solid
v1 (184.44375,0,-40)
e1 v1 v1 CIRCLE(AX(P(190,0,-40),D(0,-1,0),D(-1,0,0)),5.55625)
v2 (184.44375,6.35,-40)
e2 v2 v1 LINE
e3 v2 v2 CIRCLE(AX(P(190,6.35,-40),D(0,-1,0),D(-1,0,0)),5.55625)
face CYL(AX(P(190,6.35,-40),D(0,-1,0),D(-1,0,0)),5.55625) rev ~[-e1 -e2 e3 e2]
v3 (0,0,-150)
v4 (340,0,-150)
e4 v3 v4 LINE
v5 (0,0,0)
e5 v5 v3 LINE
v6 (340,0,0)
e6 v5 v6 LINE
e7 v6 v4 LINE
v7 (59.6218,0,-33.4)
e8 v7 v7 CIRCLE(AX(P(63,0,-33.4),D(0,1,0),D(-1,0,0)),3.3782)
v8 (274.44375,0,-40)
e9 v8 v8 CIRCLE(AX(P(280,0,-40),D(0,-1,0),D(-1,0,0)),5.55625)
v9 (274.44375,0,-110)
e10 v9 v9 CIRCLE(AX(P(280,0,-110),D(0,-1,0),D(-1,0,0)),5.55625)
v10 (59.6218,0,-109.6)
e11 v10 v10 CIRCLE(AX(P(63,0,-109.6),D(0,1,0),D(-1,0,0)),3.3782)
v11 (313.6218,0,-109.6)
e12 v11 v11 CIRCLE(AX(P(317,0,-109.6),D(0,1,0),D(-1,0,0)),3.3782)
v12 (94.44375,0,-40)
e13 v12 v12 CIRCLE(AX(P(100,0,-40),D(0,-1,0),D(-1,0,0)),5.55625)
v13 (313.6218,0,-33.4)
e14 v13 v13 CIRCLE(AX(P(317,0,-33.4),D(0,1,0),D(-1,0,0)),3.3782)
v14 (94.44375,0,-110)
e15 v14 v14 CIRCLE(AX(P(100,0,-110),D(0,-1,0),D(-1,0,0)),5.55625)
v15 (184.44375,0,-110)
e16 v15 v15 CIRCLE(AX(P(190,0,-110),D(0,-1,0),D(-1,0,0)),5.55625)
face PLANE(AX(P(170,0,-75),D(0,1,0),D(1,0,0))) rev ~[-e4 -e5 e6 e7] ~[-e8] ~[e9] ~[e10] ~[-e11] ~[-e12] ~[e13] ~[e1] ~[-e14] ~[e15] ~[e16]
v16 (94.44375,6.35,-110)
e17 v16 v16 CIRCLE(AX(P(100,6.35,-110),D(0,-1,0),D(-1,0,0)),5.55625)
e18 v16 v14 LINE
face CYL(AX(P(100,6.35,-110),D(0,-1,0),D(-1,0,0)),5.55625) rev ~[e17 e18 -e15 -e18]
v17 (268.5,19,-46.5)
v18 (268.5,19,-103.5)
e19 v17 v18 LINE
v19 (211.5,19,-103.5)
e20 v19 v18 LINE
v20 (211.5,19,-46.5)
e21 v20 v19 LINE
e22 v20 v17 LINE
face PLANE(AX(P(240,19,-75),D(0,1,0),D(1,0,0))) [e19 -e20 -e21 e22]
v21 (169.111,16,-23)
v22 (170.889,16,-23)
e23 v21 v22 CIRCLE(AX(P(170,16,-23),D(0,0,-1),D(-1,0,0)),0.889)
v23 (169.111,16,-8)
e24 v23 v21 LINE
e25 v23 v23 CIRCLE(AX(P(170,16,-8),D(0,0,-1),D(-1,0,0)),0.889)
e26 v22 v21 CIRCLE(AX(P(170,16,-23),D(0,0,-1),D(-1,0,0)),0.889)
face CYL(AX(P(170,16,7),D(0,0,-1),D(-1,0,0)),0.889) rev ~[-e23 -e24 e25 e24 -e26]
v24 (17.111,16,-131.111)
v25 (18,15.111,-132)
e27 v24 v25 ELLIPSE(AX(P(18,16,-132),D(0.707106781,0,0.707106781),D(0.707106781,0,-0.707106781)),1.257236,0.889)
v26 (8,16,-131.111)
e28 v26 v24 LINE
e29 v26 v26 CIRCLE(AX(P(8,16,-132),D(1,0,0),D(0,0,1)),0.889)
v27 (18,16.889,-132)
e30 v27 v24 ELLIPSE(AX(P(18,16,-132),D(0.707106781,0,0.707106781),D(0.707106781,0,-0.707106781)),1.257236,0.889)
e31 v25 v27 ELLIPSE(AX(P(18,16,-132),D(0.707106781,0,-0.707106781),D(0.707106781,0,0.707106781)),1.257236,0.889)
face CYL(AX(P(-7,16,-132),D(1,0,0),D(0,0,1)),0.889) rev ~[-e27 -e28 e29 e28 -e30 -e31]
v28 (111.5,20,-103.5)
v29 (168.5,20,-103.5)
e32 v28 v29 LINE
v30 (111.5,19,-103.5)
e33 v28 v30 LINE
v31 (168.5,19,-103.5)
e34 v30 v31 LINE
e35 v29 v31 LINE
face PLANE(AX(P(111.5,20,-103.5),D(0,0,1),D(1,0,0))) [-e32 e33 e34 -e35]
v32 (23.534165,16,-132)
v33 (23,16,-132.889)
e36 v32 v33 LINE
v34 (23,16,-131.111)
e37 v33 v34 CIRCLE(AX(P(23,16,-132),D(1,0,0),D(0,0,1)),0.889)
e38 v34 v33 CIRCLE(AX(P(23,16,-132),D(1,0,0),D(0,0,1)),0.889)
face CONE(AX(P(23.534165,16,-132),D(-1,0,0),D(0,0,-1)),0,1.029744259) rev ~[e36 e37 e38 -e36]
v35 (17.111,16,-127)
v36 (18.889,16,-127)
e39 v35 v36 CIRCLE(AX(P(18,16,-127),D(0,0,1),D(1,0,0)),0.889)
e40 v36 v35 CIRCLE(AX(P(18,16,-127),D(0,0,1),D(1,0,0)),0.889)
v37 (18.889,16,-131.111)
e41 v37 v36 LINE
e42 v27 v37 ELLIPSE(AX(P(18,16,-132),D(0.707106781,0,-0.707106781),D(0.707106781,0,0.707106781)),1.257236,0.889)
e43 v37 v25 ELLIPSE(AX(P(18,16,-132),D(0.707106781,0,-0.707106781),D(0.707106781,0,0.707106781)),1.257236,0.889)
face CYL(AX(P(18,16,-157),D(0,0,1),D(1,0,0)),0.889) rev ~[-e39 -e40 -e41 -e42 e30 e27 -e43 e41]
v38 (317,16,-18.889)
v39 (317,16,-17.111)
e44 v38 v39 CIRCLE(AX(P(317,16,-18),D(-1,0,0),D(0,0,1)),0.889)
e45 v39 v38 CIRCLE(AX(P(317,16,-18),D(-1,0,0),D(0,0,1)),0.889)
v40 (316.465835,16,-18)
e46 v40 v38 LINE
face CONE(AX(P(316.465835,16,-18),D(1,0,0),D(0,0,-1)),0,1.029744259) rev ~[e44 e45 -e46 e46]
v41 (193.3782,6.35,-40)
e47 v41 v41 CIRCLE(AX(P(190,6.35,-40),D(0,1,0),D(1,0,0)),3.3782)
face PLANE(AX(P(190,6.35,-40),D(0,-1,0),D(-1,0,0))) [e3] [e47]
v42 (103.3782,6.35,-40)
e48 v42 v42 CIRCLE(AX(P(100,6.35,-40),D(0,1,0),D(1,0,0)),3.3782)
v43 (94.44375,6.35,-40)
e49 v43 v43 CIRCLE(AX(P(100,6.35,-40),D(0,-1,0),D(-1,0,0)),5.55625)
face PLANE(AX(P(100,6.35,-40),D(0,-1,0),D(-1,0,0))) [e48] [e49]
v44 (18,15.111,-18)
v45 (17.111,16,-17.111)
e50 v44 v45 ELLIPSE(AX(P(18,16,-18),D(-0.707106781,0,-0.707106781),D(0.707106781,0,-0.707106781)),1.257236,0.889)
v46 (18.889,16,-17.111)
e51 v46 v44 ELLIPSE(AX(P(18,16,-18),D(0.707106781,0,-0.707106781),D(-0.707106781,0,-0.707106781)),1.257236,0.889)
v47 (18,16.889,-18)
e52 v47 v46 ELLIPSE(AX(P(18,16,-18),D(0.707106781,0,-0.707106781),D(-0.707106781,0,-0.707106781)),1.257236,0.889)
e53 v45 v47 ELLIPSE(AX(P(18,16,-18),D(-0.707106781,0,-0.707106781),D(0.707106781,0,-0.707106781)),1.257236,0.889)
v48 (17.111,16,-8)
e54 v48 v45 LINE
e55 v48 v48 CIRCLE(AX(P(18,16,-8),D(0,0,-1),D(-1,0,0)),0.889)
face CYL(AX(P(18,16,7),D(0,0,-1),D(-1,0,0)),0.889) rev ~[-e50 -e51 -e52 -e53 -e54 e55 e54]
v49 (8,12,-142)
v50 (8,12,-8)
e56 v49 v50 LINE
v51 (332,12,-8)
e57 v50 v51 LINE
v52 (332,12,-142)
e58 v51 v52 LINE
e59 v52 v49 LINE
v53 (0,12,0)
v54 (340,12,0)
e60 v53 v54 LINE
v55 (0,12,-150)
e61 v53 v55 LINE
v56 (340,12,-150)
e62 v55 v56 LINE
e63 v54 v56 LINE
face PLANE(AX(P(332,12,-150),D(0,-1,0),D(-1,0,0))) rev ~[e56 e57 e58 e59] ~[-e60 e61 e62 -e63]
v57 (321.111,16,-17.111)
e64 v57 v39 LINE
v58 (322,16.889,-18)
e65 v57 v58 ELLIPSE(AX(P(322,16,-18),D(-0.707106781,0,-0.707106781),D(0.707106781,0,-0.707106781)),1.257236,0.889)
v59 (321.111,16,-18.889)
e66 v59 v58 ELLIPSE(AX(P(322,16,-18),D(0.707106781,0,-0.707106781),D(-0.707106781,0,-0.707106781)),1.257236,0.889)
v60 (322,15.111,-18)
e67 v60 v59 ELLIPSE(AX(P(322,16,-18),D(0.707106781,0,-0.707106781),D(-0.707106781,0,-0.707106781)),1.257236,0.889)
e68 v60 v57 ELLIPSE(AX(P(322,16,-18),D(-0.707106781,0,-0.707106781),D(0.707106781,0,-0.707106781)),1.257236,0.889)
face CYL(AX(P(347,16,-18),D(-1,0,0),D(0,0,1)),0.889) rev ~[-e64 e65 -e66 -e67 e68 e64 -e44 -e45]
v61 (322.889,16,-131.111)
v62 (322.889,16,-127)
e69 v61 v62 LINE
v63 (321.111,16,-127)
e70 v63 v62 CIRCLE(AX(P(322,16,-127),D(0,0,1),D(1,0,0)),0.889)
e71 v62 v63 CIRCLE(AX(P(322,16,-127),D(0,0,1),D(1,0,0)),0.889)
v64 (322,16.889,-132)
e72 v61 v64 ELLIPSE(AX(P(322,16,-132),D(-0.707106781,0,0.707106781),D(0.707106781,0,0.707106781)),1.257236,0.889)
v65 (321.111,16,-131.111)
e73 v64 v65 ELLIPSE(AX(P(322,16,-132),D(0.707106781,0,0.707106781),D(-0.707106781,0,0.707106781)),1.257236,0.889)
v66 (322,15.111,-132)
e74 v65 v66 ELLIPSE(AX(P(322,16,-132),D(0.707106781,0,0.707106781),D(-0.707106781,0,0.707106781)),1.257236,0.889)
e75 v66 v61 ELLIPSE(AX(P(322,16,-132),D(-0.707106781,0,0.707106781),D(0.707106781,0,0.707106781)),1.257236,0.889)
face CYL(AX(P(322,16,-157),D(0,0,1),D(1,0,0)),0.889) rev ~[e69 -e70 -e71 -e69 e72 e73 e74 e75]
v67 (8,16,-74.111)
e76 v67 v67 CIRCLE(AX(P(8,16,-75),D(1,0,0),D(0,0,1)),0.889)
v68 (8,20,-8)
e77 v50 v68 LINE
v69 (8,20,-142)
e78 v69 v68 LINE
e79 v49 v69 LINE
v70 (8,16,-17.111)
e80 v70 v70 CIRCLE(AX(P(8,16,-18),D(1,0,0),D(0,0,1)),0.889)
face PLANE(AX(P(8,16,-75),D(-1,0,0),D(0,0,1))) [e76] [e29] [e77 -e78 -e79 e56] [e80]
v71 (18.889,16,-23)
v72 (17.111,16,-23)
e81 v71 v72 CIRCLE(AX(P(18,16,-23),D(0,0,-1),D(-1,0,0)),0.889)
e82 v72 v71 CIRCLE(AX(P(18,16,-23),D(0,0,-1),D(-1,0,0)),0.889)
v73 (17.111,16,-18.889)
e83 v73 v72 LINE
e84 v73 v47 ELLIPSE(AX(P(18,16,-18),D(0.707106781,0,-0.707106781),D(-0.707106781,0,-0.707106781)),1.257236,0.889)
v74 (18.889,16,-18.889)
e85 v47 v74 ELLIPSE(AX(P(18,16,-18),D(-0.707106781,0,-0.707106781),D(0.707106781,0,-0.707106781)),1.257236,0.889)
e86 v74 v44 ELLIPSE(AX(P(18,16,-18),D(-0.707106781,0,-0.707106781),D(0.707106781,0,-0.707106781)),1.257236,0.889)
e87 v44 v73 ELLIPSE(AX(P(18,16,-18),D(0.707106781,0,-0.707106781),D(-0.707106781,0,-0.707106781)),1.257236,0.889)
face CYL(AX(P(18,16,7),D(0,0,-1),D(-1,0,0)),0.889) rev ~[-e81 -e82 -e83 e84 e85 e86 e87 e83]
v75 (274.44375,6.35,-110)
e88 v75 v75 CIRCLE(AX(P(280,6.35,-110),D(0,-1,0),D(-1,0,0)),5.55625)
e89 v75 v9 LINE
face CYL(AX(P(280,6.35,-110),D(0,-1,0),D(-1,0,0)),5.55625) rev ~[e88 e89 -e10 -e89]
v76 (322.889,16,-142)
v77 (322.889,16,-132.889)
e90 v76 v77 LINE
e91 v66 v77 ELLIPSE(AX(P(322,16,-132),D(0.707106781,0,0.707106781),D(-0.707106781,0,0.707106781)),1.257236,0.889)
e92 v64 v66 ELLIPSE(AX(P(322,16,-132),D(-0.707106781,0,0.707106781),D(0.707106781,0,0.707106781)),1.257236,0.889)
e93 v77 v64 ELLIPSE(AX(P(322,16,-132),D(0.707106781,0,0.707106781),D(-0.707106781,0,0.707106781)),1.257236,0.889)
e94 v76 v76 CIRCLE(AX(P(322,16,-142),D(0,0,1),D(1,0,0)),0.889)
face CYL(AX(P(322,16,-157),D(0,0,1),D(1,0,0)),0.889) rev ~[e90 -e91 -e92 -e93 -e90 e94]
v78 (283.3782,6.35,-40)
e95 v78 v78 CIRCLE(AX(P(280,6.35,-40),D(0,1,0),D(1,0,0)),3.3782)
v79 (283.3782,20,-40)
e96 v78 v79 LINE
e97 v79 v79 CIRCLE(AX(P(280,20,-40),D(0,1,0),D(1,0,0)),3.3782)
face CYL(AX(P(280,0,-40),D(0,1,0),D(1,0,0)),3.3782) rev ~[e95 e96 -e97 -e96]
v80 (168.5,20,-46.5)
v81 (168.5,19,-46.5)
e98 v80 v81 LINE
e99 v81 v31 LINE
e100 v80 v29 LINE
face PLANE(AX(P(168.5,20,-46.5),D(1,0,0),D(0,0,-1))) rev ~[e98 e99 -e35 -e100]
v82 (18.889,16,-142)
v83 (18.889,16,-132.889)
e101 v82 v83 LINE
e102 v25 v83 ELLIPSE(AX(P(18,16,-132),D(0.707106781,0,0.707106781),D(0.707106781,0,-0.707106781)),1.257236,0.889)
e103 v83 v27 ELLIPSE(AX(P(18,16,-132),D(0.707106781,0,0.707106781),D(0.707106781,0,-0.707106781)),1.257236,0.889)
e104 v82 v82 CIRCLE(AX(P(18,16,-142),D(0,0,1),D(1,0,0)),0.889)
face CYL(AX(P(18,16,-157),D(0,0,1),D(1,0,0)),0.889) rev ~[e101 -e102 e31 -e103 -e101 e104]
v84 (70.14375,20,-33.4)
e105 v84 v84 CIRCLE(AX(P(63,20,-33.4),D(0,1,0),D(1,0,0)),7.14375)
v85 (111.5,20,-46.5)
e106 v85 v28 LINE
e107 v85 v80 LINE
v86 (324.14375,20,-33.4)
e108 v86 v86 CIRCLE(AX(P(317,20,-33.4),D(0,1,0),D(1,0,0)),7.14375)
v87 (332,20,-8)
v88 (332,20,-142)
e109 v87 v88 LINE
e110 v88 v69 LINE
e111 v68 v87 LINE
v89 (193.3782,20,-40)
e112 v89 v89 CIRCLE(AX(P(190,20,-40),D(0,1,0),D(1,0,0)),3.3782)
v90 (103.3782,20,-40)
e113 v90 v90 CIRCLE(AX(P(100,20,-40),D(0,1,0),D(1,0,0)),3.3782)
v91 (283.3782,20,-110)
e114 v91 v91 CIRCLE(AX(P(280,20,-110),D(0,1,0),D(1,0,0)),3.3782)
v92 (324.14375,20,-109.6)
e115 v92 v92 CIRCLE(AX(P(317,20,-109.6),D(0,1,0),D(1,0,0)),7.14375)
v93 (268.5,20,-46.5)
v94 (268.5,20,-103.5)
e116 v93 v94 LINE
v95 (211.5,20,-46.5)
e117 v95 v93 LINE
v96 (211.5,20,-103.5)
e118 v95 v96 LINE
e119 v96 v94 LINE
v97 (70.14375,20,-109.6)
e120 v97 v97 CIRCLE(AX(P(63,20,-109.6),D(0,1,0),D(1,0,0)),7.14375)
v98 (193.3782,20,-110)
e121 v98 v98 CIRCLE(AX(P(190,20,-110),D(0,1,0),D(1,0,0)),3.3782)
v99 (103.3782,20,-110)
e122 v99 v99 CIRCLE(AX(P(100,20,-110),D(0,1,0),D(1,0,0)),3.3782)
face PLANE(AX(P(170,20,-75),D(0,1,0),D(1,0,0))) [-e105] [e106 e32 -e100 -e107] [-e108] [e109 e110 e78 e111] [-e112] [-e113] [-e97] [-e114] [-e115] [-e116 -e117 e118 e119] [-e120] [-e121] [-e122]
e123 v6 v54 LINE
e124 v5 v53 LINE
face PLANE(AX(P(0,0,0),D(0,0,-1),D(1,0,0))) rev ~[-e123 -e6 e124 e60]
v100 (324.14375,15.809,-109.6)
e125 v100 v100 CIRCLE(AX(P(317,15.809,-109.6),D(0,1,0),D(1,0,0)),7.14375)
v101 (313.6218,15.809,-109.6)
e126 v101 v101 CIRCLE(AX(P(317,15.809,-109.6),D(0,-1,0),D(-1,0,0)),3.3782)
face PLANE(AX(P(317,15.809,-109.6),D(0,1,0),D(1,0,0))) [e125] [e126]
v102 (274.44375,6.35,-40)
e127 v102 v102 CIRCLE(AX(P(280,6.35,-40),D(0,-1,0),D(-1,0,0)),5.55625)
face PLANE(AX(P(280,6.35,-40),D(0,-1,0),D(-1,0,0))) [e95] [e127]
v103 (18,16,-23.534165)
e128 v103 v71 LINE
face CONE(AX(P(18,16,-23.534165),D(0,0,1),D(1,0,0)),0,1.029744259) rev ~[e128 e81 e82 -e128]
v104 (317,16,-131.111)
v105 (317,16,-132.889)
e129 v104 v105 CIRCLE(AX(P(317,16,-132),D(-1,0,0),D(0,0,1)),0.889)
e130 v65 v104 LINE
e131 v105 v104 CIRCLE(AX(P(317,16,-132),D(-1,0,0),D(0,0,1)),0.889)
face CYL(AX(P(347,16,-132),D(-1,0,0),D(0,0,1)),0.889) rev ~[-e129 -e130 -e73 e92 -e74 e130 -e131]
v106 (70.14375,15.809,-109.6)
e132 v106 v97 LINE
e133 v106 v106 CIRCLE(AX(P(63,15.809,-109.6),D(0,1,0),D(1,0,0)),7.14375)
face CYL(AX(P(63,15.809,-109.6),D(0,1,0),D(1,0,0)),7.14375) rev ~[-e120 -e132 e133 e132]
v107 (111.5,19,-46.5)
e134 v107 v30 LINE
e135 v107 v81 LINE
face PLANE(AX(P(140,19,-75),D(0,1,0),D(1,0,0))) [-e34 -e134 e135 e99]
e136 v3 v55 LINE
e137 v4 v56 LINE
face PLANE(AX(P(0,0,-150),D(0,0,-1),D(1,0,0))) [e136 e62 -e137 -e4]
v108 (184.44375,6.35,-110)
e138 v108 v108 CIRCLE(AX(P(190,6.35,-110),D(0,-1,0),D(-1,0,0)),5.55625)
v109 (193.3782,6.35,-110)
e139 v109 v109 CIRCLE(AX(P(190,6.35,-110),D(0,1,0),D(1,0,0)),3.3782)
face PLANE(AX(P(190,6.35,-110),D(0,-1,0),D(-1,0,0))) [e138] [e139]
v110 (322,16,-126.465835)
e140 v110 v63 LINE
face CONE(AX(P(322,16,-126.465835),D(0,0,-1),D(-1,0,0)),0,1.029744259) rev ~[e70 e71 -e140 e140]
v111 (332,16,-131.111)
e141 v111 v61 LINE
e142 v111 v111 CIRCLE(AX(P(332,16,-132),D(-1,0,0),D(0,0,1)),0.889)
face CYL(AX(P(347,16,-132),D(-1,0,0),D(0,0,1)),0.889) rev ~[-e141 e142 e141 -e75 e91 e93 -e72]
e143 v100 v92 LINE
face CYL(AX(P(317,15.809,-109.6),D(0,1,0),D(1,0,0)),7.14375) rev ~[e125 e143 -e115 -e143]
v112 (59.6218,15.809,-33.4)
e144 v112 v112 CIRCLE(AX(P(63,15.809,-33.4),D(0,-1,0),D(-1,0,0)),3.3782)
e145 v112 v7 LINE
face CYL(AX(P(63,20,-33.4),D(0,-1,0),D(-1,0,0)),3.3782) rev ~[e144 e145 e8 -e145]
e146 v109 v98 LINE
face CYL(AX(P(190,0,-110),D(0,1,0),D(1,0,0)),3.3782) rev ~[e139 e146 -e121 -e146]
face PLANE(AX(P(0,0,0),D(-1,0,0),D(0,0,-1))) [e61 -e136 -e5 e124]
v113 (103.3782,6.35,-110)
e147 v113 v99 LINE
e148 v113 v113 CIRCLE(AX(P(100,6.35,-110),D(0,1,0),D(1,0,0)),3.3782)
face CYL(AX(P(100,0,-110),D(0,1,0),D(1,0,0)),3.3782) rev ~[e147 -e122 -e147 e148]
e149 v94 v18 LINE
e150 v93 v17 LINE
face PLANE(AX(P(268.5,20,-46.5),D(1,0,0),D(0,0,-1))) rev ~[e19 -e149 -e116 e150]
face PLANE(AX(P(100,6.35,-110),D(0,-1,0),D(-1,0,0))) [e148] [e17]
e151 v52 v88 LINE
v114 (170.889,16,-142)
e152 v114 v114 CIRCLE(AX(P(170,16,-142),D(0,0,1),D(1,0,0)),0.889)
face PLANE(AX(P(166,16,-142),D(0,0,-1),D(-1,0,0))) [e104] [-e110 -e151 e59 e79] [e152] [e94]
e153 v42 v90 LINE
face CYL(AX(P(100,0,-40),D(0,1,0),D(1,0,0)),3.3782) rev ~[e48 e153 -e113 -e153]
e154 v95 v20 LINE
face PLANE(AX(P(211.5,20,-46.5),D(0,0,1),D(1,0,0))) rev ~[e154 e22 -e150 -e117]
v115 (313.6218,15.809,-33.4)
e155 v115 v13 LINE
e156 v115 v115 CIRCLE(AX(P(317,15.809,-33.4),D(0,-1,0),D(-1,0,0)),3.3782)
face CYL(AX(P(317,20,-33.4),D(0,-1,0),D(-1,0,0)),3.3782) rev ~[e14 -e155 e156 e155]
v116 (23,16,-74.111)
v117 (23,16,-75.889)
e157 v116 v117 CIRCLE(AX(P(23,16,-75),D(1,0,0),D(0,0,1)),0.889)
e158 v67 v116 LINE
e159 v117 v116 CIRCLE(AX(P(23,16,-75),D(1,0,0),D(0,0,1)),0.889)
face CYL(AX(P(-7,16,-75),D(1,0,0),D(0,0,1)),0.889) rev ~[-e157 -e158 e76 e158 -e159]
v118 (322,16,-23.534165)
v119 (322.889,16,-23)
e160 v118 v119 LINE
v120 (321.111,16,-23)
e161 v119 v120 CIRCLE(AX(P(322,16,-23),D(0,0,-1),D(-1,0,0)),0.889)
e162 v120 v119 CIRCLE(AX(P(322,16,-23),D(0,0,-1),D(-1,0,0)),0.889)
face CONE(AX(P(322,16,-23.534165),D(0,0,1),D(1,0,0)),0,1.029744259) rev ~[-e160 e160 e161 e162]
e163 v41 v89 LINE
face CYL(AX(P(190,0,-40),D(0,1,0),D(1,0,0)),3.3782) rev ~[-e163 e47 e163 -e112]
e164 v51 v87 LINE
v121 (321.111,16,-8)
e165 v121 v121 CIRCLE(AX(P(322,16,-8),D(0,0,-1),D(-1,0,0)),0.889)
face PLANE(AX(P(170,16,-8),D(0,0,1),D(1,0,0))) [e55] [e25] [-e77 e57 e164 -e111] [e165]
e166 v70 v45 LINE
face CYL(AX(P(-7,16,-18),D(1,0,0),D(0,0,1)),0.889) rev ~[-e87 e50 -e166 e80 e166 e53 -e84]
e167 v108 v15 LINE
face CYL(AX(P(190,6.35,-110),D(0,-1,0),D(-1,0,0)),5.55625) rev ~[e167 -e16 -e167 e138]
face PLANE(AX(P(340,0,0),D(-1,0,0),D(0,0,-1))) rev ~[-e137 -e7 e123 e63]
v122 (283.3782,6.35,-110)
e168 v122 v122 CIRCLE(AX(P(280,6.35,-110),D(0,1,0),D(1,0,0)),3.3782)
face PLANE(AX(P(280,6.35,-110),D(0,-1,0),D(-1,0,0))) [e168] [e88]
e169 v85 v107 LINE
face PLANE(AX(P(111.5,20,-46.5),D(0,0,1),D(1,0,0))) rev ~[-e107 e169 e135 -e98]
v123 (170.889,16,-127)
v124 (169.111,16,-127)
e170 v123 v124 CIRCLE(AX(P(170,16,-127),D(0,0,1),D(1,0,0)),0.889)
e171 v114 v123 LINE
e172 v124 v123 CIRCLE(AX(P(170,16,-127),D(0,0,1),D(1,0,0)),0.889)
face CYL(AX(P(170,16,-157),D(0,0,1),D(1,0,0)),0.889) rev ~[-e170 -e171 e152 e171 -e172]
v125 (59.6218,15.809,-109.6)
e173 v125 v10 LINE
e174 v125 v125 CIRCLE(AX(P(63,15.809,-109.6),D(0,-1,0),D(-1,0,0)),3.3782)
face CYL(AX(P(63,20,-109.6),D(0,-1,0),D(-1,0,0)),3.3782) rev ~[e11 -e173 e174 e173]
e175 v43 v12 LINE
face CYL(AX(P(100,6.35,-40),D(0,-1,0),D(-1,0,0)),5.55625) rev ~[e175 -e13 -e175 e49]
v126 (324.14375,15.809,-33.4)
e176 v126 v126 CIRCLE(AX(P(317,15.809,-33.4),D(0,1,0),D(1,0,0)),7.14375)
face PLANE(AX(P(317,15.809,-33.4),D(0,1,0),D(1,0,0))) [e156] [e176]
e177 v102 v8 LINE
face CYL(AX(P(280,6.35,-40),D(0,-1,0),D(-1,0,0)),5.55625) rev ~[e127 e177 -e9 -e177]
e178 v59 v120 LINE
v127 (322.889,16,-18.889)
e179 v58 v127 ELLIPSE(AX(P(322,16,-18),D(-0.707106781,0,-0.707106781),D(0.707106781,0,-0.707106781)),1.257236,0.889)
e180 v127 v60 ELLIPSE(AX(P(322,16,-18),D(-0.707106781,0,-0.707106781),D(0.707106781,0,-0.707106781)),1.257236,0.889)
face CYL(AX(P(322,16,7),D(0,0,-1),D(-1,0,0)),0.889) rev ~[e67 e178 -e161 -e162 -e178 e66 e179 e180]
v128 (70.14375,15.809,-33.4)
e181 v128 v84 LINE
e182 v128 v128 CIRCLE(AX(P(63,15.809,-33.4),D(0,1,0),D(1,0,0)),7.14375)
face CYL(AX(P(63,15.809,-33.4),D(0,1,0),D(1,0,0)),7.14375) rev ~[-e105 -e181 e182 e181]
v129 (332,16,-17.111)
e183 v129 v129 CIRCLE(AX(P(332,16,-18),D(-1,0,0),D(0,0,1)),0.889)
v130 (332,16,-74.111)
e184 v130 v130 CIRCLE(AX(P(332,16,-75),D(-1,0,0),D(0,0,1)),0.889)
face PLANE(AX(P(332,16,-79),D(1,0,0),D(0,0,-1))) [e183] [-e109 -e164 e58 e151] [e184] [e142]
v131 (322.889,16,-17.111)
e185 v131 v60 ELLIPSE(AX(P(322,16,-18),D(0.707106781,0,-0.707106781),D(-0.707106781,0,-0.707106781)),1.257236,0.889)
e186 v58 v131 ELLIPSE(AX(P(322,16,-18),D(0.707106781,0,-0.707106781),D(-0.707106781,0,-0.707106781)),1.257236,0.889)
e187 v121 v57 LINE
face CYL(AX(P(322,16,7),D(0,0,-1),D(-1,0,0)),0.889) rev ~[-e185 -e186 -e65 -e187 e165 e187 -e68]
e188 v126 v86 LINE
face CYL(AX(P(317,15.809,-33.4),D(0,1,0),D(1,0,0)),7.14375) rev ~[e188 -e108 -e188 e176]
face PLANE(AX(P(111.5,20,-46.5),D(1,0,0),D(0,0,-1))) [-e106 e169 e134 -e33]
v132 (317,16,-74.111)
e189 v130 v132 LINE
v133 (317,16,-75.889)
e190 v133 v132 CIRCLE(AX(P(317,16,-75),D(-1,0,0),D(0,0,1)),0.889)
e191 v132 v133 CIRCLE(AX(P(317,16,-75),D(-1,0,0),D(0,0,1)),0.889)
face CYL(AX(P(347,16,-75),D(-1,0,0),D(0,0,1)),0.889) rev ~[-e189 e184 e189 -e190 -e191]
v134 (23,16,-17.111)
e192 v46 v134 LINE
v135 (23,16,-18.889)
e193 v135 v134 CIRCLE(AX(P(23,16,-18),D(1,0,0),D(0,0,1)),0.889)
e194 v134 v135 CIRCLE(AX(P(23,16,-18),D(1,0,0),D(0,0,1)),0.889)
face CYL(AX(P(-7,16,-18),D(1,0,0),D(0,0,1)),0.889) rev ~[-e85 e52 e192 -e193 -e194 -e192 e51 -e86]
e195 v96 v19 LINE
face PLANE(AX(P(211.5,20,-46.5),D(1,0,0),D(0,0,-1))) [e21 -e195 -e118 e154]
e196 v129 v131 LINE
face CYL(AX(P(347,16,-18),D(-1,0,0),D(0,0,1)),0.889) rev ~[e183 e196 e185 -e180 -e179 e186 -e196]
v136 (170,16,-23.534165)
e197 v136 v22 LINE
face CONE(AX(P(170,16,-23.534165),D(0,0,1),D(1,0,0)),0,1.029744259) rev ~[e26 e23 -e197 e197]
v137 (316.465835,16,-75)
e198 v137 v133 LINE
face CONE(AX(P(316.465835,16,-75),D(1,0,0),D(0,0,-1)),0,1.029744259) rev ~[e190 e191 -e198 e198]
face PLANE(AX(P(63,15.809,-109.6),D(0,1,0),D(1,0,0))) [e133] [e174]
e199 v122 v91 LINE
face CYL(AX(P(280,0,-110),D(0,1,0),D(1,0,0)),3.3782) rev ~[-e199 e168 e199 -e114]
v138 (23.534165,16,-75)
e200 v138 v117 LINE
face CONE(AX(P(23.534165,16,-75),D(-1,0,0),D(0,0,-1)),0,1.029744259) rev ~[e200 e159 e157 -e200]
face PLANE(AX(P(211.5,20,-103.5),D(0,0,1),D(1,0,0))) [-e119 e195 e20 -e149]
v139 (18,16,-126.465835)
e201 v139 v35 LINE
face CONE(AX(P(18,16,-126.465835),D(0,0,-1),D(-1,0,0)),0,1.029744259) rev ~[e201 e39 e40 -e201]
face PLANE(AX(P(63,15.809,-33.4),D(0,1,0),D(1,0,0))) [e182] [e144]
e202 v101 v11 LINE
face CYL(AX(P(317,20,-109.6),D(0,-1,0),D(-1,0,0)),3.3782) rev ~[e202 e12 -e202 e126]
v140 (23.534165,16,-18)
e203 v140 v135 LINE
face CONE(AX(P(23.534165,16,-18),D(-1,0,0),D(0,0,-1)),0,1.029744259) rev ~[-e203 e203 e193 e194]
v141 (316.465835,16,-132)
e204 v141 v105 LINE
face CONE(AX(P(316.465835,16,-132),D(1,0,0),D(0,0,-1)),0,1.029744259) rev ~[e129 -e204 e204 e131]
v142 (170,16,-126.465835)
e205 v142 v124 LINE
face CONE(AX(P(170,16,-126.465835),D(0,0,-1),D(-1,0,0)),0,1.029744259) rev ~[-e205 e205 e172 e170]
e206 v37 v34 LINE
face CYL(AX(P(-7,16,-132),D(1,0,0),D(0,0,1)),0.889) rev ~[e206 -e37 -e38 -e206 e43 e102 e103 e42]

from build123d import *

# Parameters (mm, degrees)
SKETCH1_W                                            = 340
SKETCH1_H                                            = 150
BOSS_EXTRUDE1_DEPTH                                  = 20
LASERCAVITYMOUNTINGHOLE_CBORE_FOR_1_4_SO_D           = 6.7564
LASERCAVITYMOUNTINGHOLE_CBORE_FOR_1_4_SO_CBORE_D     = 11.1125
LASERCAVITYMOUNTINGHOLE_CBORE_FOR_1_4_SO_CBORE_DEPTH = 6.35
SKETCH5_W                                            = 57
SKETCH5_H                                            = 57
TEC_GROOVE_DEPTH                                     = 1
SKETCH6_W                                            = 340
SKETCH6_H                                            = 8
WALL1_DEPTH                                          = 8
SKETCH7_W                                            = 142
SKETCH7_H                                            = 8
WALL2_DEPTH                                          = 8
SKETCH9_W                                            = 332
SKETCH9_H                                            = 8
WALL3_DEPTH                                          = 8
SKETCH10_W                                           = 134
SKETCH10_H                                           = 8
WALL4_DEPTH                                          = 8
F_2_56_TAPPED_HOLE1_D                                = 1.778
F_2_56_TAPPED_HOLE1_DEPTH                            = 15
F_2_56_TAPPED_HOLE1_TIP                              = 0.53416509
F_2_56_TAPPED_HOLE2_D                                = 1.778
F_2_56_TAPPED_HOLE2_DEPTH                            = 15
F_2_56_TAPPED_HOLE2_TIP                              = 0.53416509
F_2_56_TAPPED_HOLE3_D                                = 1.778
F_2_56_TAPPED_HOLE3_DEPTH                            = 15
F_2_56_TAPPED_HOLE3_TIP                              = 0.53416509
F_2_56_TAPPED_HOLE4_D                                = 1.778
F_2_56_TAPPED_HOLE4_DEPTH                            = 15
F_2_56_TAPPED_HOLE4_TIP                              = 0.53416509
OPTICALTABLEMOUNTINGHOLES_CBORE_FOR_1_4_D            = 6.7564
OPTICALTABLEMOUNTINGHOLES_CBORE_FOR_1_4_DEPTH        = 20
OPTICALTABLEMOUNTINGHOLES_CBORE_FOR_1_4_CBORE_D      = 14.2875
OPTICALTABLEMOUNTINGHOLES_CBORE_FOR_1_4_CBORE_DEPTH  = 4.191
OPTICALTABLEMOUNTINGHOLES_CBORE_FOR_1_4_TIP          = 2.029827343


with BuildPart() as part:
    # Sketch1 → Boss-Extrude1 (new body)
    with BuildSketch(Plane(origin=(0, 0, 0), x_dir=(1, 0, 0), z_dir=(0, 1, 0))):
        with Locations((170, 75)):
            Rectangle(SKETCH1_W, SKETCH1_H)
    extrude(amount=BOSS_EXTRUDE1_DEPTH)

    # LaserCavityMountingHole_CBORE for 1/4 Socket Head Cap Screw1 (through all)
    with Locations(Plane(origin=(0, 0, 0), x_dir=(-1, 0, 0), z_dir=(0, -1, 0))):
        with Locations((-100, 40), (-190, 40), (-280, 40), (-280, 110), (-190, 110), (-100, 110)):
            CounterBoreHole(LASERCAVITYMOUNTINGHOLE_CBORE_FOR_1_4_SO_D / 2, LASERCAVITYMOUNTINGHOLE_CBORE_FOR_1_4_SO_CBORE_D / 2, LASERCAVITYMOUNTINGHOLE_CBORE_FOR_1_4_SO_CBORE_DEPTH)

    # Sketch5 → TEC_groove (cut)
    with BuildSketch(Plane(origin=(0, 20, 0), x_dir=(1, 0, 0), z_dir=(0, 1, 0))):
        with Locations((140, 75)):
            Rectangle(SKETCH5_W, SKETCH5_H)
        with Locations((240, 75)):
            Rectangle(SKETCH5_W, SKETCH5_H)
    extrude(amount=-TEC_GROOVE_DEPTH, mode=Mode.SUBTRACT)

    # Sketch6 → Wall1 (cut)
    with BuildSketch(Plane.XY):
        with Locations((170, 16)):
            Rectangle(SKETCH6_W, SKETCH6_H)
    extrude(amount=-WALL1_DEPTH, mode=Mode.SUBTRACT)

    # Sketch7 → Wall2 (cut)
    with BuildSketch(Plane(origin=(340, 0, 0), x_dir=(0, 0, -1), z_dir=(1, 0, 0))):
        with Locations((79, 16)):
            Rectangle(SKETCH7_W, SKETCH7_H)
    extrude(amount=-WALL2_DEPTH, mode=Mode.SUBTRACT)

    # Sketch9 → Wall3 (cut)
    with BuildSketch(Plane(origin=(0, 0, -150), x_dir=(-1, 0, 0), z_dir=(0, 0, -1))):
        with Locations((-166, 16)):
            Rectangle(SKETCH9_W, SKETCH9_H)
    extrude(amount=-WALL3_DEPTH, mode=Mode.SUBTRACT)

    # Sketch10 → Wall4 (cut)
    with BuildSketch(Plane.ZY):
        with Locations((-75, 16)):
            Rectangle(SKETCH10_W, SKETCH10_H)
    extrude(amount=-WALL4_DEPTH, mode=Mode.SUBTRACT)

    # #2-56 Tapped Hole1
    with Locations(Plane.XY.offset(-8)):
        with Locations((18, 16), (322, 16), (170, 16)):
            Hole(F_2_56_TAPPED_HOLE1_D / 2, depth=F_2_56_TAPPED_HOLE1_DEPTH)
            with Locations((0, 0, -(F_2_56_TAPPED_HOLE1_DEPTH + F_2_56_TAPPED_HOLE1_TIP / 2))):  # 118° drill point
                Cone(0, F_2_56_TAPPED_HOLE1_D / 2, F_2_56_TAPPED_HOLE1_TIP, mode=Mode.SUBTRACT)

    # #2-56 Tapped Hole2
    with Locations(Plane(origin=(8, 16, -132), x_dir=(0, 0, -1), z_dir=(-1, 0, 0))):
        with Locations((0, 0), (-114, 0), (-57, 0)):
            Hole(F_2_56_TAPPED_HOLE2_D / 2, depth=F_2_56_TAPPED_HOLE2_DEPTH)
            with Locations((0, 0, -(F_2_56_TAPPED_HOLE2_DEPTH + F_2_56_TAPPED_HOLE2_TIP / 2))):  # 118° drill point
                Cone(0, F_2_56_TAPPED_HOLE2_D / 2, F_2_56_TAPPED_HOLE2_TIP, mode=Mode.SUBTRACT)

    # #2-56 Tapped Hole3
    with Locations(Plane(origin=(0, 0, -142), x_dir=(-1, 0, 0), z_dir=(0, 0, -1))):
        with Locations((-322, 16), (-18, 16), (-170, 16)):
            Hole(F_2_56_TAPPED_HOLE3_D / 2, depth=F_2_56_TAPPED_HOLE3_DEPTH)
            with Locations((0, 0, -(F_2_56_TAPPED_HOLE3_DEPTH + F_2_56_TAPPED_HOLE3_TIP / 2))):  # 118° drill point
                Cone(0, F_2_56_TAPPED_HOLE3_D / 2, F_2_56_TAPPED_HOLE3_TIP, mode=Mode.SUBTRACT)

    # #2-56 Tapped Hole4
    with Locations(Plane(origin=(332, 0, 0), x_dir=(0, 0, -1), z_dir=(1, 0, 0))):
        with Locations((18, 16), (132, 16), (75, 16)):
            Hole(F_2_56_TAPPED_HOLE4_D / 2, depth=F_2_56_TAPPED_HOLE4_DEPTH)
            with Locations((0, 0, -(F_2_56_TAPPED_HOLE4_DEPTH + F_2_56_TAPPED_HOLE4_TIP / 2))):  # 118° drill point
                Cone(0, F_2_56_TAPPED_HOLE4_D / 2, F_2_56_TAPPED_HOLE4_TIP, mode=Mode.SUBTRACT)

    # OpticalTableMountingHoles_CBORE for 1/4 Binding Head Machine Screw1
    with Locations(Plane(origin=(0, 20, 0), x_dir=(1, 0, 0), z_dir=(0, 1, 0))):
        with Locations((63, 109.6), (317, 109.6), (317, 33.4), (63, 33.4)):
            CounterBoreHole(OPTICALTABLEMOUNTINGHOLES_CBORE_FOR_1_4_D / 2, OPTICALTABLEMOUNTINGHOLES_CBORE_FOR_1_4_CBORE_D / 2, OPTICALTABLEMOUNTINGHOLES_CBORE_FOR_1_4_CBORE_DEPTH, depth=OPTICALTABLEMOUNTINGHOLES_CBORE_FOR_1_4_DEPTH)
            with Locations((0, 0, -(OPTICALTABLEMOUNTINGHOLES_CBORE_FOR_1_4_DEPTH + OPTICALTABLEMOUNTINGHOLES_CBORE_FOR_1_4_TIP / 2))):  # 118° drill point
                Cone(0, OPTICALTABLEMOUNTINGHOLES_CBORE_FOR_1_4_D / 2, OPTICALTABLEMOUNTINGHOLES_CBORE_FOR_1_4_TIP, mode=Mode.SUBTRACT)


solid = part.part
